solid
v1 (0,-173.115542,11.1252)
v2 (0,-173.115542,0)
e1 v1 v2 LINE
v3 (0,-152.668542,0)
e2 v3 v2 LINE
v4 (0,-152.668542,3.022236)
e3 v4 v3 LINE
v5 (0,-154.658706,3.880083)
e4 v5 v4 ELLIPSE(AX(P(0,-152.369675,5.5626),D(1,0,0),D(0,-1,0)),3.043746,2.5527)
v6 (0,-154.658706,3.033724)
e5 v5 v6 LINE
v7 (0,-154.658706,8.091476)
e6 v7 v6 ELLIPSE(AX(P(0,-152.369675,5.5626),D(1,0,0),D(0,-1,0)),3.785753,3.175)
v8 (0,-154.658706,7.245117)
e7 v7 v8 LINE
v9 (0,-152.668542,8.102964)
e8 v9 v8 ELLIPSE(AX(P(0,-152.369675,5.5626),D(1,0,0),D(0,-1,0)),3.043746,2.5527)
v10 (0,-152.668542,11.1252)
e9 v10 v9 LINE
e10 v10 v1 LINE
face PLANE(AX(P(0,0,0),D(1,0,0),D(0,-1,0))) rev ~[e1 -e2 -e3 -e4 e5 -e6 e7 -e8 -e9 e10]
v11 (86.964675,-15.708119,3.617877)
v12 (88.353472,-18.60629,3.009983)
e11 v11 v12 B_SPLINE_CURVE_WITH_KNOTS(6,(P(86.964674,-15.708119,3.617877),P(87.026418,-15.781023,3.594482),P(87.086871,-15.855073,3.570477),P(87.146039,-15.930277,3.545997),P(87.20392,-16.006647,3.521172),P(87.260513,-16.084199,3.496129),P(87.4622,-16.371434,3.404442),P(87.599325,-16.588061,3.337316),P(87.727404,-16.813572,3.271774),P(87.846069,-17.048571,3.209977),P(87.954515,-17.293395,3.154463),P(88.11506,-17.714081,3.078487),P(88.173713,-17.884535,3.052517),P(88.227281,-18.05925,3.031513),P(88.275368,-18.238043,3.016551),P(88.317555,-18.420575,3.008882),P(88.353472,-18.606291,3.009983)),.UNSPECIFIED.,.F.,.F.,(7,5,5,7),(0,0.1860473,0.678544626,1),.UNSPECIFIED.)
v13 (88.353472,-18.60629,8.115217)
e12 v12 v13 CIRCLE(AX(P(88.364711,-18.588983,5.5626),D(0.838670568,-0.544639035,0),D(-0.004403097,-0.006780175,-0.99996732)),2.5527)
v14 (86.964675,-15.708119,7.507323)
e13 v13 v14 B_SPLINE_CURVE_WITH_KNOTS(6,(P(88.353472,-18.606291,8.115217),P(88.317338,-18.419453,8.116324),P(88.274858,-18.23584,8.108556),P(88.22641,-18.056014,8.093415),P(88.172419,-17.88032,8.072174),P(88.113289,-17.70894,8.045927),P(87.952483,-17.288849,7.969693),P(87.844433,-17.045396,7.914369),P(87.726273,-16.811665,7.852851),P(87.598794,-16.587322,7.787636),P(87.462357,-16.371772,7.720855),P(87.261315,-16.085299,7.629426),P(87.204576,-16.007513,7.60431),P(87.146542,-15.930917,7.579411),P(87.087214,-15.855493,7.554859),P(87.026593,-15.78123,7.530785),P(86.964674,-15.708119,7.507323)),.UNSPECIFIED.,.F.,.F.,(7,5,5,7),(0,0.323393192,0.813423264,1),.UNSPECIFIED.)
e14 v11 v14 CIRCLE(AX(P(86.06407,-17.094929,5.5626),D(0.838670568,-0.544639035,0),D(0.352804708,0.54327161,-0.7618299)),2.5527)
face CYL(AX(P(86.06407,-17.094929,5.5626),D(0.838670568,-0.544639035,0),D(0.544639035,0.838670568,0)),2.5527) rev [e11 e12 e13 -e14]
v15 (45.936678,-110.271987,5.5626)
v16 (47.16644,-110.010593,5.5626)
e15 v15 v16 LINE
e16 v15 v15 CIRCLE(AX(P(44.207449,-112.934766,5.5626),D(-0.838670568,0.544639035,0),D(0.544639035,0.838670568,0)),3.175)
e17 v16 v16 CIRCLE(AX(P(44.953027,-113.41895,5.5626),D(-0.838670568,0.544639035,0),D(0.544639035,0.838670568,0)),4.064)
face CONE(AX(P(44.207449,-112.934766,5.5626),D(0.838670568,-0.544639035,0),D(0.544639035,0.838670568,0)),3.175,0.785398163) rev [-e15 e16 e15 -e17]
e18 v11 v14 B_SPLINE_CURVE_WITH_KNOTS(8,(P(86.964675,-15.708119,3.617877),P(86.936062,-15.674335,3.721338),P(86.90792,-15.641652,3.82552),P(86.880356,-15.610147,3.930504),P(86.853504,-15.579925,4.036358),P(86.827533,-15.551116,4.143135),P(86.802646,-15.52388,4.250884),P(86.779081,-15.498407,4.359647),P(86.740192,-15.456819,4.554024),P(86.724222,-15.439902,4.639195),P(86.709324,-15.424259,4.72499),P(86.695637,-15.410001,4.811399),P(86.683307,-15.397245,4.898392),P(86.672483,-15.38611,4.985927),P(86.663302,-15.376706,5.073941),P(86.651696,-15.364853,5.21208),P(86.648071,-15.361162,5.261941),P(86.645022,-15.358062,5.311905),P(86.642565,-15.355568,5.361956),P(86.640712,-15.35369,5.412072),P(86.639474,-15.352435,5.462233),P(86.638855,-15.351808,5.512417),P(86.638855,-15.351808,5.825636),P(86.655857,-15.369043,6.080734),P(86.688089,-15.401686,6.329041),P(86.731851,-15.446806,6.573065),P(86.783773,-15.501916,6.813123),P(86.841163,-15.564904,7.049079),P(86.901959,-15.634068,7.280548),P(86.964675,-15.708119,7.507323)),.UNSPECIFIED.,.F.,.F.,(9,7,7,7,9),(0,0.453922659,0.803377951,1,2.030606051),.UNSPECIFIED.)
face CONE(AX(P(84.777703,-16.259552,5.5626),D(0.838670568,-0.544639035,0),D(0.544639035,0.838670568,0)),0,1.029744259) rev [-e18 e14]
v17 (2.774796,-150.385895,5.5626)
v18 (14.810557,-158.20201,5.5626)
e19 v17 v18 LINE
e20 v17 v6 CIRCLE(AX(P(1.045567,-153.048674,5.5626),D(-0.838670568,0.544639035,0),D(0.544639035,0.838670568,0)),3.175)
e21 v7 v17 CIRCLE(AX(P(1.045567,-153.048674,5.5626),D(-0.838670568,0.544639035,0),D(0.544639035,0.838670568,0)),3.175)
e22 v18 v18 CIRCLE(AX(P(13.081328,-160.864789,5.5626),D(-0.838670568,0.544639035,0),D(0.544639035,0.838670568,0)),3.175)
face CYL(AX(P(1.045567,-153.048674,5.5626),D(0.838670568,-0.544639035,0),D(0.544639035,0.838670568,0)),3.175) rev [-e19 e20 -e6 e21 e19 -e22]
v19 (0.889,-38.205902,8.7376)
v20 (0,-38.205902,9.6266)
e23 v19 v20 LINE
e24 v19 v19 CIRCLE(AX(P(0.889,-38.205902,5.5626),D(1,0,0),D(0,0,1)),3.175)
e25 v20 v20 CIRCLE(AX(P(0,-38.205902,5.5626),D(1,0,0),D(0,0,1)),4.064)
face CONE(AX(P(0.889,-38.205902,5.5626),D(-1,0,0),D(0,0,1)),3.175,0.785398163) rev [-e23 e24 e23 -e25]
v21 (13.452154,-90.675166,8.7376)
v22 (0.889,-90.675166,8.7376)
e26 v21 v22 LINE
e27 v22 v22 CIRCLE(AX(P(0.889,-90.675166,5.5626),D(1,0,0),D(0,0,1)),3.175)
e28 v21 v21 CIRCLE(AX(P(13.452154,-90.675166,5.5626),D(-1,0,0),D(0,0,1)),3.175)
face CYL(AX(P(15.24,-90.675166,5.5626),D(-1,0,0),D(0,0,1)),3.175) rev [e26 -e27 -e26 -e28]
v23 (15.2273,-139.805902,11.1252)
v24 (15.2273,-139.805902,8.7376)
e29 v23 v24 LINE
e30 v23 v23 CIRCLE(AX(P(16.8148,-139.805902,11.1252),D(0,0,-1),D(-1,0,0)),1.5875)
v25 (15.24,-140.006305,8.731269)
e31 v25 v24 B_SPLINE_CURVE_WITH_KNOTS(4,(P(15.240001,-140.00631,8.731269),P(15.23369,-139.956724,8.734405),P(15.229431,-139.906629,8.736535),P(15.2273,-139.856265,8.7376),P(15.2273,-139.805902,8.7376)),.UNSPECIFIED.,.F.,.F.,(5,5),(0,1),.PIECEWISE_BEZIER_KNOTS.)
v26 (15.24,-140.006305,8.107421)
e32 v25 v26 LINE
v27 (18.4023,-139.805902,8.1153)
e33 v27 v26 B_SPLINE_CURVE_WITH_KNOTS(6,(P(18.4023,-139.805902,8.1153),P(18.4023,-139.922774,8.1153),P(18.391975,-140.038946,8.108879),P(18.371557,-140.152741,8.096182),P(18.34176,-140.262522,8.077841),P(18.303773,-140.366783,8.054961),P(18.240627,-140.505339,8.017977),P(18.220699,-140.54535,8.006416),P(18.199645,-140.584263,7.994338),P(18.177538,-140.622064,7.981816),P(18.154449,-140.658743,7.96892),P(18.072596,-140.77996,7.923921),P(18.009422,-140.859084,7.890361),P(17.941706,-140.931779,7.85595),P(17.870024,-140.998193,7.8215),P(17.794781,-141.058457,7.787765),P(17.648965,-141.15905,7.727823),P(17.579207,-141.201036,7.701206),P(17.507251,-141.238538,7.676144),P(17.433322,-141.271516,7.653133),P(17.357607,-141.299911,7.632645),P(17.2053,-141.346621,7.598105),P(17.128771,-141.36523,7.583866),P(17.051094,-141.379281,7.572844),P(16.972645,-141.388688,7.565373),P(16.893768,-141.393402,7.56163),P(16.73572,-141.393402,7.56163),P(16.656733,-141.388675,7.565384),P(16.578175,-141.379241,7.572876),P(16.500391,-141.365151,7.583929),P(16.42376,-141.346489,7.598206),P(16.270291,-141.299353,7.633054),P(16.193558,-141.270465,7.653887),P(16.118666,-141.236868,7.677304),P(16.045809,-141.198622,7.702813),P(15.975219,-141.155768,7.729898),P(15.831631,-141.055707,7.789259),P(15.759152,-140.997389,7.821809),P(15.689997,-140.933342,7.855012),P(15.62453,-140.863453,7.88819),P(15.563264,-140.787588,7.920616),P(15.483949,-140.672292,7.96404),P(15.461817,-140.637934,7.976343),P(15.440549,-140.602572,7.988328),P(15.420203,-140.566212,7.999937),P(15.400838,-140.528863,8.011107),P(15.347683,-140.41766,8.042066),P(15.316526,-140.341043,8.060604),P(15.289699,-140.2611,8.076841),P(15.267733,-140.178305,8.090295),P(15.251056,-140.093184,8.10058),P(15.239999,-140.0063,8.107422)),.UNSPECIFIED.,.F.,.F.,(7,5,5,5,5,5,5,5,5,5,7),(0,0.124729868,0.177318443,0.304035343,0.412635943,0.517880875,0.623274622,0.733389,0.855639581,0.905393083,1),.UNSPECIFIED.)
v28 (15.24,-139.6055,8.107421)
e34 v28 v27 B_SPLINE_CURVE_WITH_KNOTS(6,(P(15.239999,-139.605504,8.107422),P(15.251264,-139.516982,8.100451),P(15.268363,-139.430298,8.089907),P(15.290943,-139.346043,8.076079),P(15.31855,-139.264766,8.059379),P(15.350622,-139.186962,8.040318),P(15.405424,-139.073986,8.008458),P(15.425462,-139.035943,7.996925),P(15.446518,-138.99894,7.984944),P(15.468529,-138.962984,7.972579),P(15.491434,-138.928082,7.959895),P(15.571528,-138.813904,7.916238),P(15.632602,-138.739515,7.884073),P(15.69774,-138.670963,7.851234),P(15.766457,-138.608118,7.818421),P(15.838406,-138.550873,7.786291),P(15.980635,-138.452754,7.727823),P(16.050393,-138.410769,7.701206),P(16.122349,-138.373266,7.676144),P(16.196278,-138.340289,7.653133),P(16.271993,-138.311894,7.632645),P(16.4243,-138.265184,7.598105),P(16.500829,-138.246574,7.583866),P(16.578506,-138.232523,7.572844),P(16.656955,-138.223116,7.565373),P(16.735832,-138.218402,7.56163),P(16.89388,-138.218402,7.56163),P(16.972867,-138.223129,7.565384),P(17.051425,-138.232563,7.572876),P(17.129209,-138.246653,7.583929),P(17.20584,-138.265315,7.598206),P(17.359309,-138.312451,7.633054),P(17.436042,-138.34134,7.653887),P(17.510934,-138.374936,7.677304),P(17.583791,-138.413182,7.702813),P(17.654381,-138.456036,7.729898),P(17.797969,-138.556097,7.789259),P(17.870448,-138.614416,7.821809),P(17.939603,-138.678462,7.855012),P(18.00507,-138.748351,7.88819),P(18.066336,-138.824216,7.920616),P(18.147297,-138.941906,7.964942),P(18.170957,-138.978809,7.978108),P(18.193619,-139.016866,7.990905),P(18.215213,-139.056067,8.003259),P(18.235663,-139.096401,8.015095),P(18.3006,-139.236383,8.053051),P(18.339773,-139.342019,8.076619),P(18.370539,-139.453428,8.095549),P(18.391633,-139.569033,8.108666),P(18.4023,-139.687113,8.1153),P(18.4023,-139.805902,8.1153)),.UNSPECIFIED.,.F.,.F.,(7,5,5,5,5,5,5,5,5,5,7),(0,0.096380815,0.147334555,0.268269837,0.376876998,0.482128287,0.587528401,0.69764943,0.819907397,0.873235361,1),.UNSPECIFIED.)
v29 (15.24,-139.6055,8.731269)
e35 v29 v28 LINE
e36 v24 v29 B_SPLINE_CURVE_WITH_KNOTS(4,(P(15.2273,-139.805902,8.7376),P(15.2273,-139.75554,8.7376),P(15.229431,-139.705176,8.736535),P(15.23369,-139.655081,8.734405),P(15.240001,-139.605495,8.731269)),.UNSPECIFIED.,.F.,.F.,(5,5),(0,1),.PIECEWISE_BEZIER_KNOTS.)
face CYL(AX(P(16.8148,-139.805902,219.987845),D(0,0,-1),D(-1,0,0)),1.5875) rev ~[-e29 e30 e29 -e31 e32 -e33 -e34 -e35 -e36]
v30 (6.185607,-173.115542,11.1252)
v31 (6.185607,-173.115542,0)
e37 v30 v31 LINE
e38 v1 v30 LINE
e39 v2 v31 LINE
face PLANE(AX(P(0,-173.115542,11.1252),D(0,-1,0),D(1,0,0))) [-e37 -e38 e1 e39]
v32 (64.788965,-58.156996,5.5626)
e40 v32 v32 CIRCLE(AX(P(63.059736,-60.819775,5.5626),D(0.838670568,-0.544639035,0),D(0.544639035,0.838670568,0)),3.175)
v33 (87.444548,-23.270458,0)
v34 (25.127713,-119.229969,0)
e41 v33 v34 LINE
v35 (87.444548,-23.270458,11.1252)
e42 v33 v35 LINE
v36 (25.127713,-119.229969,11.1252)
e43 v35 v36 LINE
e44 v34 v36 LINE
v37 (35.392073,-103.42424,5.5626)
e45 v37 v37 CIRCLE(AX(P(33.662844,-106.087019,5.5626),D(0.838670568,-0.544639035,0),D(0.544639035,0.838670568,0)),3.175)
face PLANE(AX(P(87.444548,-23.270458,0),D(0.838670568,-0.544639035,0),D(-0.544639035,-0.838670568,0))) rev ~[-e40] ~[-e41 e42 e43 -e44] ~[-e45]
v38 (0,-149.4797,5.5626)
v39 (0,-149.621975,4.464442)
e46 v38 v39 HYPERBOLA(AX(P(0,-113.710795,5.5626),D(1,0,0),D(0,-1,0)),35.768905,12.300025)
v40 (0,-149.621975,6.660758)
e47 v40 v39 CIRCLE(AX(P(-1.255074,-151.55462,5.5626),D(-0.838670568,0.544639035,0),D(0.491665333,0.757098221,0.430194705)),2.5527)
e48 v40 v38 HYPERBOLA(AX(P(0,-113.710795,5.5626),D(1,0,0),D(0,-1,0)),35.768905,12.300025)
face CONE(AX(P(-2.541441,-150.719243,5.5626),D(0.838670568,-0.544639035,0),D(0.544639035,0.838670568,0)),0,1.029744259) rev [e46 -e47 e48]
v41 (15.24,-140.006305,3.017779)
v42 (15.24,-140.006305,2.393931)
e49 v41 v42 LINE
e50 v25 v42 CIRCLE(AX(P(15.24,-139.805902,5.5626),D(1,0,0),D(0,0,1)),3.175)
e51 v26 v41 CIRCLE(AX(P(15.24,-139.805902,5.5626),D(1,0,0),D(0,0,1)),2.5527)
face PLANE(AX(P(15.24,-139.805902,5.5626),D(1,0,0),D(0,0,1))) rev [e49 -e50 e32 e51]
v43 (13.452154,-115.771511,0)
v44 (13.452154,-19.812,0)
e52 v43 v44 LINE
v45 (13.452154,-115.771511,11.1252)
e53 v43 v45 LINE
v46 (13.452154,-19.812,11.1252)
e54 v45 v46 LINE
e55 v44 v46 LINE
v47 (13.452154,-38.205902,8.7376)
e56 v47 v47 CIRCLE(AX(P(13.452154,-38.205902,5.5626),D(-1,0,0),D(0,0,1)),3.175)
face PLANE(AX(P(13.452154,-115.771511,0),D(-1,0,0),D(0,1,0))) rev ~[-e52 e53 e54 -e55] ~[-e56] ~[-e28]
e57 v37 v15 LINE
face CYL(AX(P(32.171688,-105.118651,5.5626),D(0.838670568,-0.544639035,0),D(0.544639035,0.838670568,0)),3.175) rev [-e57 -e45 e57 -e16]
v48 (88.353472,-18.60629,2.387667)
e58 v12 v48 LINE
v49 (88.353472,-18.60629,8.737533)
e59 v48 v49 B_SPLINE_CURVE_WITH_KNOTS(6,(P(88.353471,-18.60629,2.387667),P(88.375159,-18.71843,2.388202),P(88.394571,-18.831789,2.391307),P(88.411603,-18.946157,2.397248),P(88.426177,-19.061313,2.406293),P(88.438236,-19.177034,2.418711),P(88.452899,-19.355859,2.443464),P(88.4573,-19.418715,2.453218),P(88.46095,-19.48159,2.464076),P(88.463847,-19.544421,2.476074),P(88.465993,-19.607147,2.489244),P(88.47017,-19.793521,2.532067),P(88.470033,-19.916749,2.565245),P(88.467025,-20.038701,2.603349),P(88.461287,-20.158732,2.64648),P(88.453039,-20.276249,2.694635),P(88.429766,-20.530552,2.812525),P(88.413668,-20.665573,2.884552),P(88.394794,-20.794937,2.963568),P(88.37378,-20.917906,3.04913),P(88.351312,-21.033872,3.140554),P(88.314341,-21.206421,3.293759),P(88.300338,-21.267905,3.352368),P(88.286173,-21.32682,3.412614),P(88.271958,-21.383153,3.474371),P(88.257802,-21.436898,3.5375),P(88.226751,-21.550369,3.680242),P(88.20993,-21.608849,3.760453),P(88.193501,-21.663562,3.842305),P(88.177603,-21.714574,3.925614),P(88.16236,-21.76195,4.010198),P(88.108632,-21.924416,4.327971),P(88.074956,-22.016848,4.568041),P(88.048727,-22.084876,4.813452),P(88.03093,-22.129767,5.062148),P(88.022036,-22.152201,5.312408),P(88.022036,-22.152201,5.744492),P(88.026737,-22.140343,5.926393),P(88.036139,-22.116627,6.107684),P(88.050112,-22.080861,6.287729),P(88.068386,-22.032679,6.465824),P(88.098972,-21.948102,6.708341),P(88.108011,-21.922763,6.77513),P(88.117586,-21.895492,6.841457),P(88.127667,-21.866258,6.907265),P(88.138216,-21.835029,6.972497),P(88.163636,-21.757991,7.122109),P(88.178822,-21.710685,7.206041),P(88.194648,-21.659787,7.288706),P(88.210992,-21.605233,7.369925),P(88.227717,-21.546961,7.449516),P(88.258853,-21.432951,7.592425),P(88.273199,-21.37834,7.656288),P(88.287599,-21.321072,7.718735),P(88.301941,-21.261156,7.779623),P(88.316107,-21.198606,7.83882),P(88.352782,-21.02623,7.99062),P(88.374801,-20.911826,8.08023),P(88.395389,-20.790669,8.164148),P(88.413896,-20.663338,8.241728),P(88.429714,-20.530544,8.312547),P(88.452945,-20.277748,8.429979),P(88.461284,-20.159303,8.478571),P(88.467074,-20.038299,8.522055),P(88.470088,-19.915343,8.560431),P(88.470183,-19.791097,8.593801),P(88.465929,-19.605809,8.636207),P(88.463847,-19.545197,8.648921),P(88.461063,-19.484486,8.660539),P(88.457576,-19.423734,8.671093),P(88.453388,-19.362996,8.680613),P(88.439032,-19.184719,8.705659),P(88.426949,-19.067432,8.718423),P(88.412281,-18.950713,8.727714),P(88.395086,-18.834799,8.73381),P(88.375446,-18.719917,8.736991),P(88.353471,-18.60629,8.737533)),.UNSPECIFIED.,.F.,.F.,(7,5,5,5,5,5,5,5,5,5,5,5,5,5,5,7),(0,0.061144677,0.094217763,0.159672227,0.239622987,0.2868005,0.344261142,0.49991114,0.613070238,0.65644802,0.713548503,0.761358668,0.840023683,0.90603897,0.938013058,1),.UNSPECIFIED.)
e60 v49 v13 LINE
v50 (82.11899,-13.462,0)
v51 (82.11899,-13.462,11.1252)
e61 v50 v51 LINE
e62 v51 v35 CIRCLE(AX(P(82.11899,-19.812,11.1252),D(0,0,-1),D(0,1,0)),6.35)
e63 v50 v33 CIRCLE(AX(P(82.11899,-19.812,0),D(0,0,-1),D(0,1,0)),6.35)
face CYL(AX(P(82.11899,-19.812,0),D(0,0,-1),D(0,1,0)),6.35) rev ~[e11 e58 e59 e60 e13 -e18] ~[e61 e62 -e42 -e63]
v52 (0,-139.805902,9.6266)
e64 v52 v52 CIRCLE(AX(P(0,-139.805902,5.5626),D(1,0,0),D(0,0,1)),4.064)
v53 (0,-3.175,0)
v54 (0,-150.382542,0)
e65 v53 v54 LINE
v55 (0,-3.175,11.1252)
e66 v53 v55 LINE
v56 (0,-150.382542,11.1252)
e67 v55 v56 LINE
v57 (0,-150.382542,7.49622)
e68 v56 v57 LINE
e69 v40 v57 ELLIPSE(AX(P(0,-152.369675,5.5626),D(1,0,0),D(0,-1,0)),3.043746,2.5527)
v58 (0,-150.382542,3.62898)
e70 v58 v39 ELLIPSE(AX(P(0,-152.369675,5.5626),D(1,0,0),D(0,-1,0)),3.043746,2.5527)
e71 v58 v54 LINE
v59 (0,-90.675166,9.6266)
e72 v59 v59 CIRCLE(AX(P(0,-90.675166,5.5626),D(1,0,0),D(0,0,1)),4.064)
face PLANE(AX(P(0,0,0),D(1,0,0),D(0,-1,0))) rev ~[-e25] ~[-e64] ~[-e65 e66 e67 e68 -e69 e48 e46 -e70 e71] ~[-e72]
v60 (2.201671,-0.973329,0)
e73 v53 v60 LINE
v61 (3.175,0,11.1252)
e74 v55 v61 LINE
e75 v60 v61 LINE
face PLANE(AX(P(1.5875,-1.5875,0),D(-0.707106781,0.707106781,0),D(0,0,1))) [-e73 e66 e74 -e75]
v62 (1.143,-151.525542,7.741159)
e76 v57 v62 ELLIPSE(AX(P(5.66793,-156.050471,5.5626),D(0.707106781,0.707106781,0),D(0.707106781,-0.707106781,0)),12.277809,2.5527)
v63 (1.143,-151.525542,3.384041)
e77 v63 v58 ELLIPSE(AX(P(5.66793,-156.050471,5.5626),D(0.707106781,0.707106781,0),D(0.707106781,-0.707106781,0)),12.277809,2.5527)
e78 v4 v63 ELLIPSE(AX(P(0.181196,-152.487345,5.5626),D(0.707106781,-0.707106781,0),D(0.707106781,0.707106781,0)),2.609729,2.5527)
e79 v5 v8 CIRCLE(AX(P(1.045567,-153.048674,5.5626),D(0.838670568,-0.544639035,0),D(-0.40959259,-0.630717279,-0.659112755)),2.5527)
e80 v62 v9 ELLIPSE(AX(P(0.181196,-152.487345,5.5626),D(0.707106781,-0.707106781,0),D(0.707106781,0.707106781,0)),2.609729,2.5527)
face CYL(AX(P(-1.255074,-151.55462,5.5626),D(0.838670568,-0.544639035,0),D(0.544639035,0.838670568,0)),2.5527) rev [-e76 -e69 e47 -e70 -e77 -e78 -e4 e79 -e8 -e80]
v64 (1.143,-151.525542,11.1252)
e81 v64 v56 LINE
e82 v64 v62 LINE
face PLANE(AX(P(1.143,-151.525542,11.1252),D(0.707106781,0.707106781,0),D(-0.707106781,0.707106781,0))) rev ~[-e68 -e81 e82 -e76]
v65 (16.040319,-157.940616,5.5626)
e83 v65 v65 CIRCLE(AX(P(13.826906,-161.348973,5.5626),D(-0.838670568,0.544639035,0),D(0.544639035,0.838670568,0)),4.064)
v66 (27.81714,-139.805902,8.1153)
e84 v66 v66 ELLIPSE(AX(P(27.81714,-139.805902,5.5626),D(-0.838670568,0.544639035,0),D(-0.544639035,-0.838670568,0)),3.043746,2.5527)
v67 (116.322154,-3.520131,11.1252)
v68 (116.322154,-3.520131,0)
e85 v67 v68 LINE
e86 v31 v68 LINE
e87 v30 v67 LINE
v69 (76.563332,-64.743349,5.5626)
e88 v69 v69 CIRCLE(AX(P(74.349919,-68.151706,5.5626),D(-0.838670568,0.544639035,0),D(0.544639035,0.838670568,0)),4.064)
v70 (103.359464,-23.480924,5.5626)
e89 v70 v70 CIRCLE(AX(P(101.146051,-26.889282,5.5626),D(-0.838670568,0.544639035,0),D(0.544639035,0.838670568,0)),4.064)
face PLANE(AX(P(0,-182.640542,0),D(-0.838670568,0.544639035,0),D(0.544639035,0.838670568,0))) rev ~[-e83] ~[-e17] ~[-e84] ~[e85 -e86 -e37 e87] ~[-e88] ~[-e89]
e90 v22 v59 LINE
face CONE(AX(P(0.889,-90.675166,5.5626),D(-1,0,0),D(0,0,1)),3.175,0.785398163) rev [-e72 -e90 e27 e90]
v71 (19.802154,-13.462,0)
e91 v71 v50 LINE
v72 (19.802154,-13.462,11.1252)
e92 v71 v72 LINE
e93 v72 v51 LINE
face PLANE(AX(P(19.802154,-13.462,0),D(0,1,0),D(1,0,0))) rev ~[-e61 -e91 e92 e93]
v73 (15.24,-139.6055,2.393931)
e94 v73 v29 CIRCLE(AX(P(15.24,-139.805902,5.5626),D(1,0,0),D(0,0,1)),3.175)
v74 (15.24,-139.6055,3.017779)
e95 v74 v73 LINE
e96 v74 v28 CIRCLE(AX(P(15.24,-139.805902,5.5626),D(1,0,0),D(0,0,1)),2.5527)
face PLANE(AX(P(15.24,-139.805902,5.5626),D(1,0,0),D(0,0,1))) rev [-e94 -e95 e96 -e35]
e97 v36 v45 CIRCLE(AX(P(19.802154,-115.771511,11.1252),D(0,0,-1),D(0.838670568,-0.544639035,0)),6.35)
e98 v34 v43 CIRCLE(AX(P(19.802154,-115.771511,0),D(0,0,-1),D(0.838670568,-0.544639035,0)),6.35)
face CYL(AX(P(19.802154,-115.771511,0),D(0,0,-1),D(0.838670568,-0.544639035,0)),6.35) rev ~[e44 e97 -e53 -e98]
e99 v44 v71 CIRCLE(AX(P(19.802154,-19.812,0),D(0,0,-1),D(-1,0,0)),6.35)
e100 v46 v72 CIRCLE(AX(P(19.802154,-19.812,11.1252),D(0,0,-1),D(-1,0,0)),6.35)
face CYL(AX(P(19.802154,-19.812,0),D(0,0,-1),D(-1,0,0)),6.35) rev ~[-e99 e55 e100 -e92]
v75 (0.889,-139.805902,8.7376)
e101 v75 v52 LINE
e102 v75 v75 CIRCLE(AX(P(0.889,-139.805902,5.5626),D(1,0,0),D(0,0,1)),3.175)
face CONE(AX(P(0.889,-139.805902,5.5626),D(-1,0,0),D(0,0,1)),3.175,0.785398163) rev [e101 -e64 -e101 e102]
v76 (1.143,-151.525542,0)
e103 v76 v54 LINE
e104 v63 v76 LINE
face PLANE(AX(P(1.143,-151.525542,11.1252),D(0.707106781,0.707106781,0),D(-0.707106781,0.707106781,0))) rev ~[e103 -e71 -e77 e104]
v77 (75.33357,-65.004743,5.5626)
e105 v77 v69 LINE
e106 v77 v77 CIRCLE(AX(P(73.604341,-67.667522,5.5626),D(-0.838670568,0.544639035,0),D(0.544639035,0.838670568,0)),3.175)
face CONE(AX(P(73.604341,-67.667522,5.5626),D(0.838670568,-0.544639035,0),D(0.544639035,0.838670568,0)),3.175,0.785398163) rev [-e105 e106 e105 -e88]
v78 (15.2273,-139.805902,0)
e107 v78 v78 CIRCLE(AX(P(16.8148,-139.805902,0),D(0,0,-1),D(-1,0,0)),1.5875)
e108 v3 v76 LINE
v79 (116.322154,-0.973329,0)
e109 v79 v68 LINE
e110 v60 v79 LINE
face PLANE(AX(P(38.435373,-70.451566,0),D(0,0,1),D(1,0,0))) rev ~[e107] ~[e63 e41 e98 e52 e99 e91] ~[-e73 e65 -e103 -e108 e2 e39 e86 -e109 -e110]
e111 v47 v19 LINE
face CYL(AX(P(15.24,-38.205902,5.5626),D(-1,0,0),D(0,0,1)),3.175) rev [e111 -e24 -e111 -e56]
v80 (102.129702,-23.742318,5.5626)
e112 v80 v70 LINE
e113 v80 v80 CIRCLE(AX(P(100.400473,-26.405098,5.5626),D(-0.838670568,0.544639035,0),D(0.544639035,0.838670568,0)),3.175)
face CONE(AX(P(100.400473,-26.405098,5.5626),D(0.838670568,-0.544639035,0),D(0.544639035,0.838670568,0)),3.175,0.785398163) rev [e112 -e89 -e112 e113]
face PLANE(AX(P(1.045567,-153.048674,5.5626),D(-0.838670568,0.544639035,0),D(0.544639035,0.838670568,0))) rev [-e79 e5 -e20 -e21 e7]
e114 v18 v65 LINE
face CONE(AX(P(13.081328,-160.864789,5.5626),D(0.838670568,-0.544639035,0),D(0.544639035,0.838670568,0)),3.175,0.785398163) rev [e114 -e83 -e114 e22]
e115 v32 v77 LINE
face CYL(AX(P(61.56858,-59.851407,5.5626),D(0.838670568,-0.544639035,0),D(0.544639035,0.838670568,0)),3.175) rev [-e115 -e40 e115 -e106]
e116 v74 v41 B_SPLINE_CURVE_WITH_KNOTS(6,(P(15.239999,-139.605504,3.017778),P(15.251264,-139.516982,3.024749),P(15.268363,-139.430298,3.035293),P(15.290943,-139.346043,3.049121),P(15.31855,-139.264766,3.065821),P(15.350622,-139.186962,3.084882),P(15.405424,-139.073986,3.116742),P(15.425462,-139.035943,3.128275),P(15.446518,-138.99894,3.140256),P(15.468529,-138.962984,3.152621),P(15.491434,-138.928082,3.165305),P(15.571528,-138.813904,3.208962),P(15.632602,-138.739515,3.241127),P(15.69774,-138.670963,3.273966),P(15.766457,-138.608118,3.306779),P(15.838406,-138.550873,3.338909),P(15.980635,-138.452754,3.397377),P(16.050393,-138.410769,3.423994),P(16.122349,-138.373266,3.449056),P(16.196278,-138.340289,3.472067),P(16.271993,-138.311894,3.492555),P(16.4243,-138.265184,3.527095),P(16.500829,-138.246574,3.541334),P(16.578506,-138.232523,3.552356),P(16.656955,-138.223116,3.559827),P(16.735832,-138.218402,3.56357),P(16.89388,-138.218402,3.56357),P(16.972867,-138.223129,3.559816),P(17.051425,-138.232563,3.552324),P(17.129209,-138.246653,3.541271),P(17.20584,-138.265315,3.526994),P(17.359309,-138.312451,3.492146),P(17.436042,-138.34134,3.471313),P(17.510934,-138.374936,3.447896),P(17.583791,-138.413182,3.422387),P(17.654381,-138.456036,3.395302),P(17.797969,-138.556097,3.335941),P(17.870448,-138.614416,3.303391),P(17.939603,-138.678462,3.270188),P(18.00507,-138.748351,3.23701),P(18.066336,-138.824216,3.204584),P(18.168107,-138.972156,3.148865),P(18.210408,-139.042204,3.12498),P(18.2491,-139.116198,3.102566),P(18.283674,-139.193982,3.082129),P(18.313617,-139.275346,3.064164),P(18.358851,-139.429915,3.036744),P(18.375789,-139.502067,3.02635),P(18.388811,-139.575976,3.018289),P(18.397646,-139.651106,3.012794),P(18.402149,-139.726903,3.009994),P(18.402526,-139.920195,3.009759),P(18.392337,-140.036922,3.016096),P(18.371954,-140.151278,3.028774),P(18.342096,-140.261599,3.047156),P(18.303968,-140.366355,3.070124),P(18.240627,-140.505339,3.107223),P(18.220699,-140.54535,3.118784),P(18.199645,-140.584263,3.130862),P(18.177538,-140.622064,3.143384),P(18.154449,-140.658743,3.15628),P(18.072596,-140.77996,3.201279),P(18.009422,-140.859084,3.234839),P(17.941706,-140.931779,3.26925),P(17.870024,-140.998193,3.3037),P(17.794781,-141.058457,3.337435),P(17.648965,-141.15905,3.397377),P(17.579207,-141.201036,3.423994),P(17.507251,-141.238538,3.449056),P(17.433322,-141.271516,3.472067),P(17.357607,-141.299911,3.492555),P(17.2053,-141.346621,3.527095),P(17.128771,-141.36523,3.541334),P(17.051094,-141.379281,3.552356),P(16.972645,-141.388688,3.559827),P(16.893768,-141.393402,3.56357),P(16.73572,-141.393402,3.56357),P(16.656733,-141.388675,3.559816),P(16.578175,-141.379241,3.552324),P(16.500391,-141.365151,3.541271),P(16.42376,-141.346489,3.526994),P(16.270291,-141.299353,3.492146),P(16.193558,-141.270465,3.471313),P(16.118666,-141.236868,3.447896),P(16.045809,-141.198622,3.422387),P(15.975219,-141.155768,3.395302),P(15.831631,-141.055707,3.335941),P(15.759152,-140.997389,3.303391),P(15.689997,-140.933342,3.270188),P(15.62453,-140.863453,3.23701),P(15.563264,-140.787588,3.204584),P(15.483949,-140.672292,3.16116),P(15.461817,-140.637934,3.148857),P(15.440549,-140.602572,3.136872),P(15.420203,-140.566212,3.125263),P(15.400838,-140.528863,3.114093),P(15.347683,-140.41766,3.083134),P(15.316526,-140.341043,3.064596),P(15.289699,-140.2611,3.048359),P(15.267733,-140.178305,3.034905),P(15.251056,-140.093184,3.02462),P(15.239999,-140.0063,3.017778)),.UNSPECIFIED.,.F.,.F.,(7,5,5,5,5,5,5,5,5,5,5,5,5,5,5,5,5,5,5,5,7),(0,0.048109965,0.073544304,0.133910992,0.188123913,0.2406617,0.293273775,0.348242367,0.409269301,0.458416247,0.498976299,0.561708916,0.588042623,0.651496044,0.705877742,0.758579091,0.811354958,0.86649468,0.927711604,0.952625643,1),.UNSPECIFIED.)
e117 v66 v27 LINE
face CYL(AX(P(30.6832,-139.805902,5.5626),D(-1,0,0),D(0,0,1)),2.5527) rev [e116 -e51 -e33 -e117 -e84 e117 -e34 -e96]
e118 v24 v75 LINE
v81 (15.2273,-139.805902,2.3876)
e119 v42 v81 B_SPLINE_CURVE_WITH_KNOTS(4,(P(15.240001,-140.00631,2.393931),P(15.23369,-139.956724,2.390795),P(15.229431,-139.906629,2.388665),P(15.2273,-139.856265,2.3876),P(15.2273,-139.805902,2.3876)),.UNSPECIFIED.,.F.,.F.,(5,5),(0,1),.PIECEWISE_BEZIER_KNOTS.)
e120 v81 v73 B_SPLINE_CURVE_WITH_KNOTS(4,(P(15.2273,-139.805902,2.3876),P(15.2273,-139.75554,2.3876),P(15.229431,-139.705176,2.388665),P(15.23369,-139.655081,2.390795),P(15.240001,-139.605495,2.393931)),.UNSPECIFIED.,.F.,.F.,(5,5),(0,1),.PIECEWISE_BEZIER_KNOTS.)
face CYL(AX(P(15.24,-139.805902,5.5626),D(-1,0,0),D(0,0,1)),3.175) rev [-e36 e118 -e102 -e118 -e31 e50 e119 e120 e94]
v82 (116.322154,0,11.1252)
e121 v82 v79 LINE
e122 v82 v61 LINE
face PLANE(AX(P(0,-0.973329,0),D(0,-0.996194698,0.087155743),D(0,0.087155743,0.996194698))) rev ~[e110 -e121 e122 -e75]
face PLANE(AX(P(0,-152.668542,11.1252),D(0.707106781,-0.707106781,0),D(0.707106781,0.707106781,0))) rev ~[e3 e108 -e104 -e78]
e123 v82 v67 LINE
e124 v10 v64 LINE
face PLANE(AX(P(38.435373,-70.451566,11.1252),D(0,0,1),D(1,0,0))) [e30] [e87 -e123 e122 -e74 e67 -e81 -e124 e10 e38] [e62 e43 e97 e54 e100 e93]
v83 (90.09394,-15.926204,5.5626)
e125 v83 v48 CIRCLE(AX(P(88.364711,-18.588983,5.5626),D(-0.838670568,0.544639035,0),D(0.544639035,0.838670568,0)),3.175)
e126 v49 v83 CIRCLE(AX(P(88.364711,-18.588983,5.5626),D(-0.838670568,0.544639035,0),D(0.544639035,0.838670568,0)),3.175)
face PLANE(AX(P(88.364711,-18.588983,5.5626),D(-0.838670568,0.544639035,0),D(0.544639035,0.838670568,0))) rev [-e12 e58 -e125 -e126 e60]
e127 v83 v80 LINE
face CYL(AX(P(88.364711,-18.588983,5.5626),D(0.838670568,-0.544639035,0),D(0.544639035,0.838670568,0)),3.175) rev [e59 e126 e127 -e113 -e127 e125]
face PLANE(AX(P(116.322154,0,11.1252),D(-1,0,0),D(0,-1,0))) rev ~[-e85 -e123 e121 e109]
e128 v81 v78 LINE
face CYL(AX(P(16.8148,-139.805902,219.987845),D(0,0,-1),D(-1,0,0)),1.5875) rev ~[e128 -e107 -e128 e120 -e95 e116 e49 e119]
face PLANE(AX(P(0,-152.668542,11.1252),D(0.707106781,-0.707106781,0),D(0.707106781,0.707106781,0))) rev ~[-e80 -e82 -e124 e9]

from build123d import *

# Parameters (mm, degrees)
BOSS_EXTRUDE1_DEPTH              = 11.1252
F_1_4_20_TAPPED_HOLE1_AT_2_COUNT = 2
F_1_4_20_TAPPED_HOLE1_AT_2_PITCH = 101.6
F_1_4_20_TAPPED_HOLE1_AT_3_COUNT = 2
F_1_4_20_TAPPED_HOLE1_AT_3_PITCH = 49.130736385
F_1_4_20_TAPPED_HOLE2_AT_2_COUNT = 2
F_1_4_20_TAPPED_HOLE2_AT_2_PITCH = 53.975
F_1_4_20_TAPPED_HOLE2_AT_3_COUNT = 2
F_1_4_20_TAPPED_HOLE2_AT_3_PITCH = 111.125
F_1_4_20_TAPPED_HOLE2_AT_4_COUNT = 2
F_1_4_20_TAPPED_HOLE2_AT_4_PITCH = 49.1998
CUT_EXTRUDE1_DEPTH               = 12.1252001
CHAMFER3_SIZE                    = 3.175
CUT_EXTRUDE2_DEPTH               = 119.608154476
CUT_EXTRUDE3_DEPTH               = 12.1252001
F_1_8_0_125_DIAMETER_HOLE1_D     = 3.175
CUT_EXTRUDE4_DEPTH               = 12.1252001


with BuildPart() as part:
    # Sketch1 → Boss-Extrude1 (new body)
    with BuildSketch(Plane.XY):
        Polygon((0, 0), (0, -182.6405415), (118.608154476, 0), align=None)
        with BuildLine():
            Line((19.802154476, -13.462), (82.118989682, -13.462))
            ThreePointArc((82.118989682, -13.462), (87.699478347, -16.782041872), (87.444547788, -23.270457872))
            Line((87.444547788, -23.270457872), (25.127712583, -119.229969062))
            ThreePointArc((25.127712583, -119.229969062), (17.998657037, -121.860016506), (13.452154476, -115.771511189))
            Line((13.452154476, -115.771511189), (13.452154476, -19.812))
            ThreePointArc((13.452154476, -19.812), (15.312026416, -15.321871939), (19.802154476, -13.462))
        make_face(mode=Mode.SUBTRACT)
    extrude(amount=BOSS_EXTRUDE1_DEPTH)

    # Sketch3 → 1/4-20 Tapped Hole1 (revolve, cut)
    with BuildSketch(Plane(origin=(0, -139.805902277, 5.5626), x_dir=(0, 0, 1), z_dir=(0, 1, 0))):
        Polygon((0, 0), (0, 32.217016902), (2.5527, 30.6832), (2.5527, 15.24), (3.175, 15.24), (3.175, 0.889), (4.064, 0), align=None)
    f_1_4_20_tapped_hole1 = revolve(axis=Axis((-6.35, -139.805902277, 5.5626), (1, 0, 0)), mode=Mode.SUBTRACT)

    # 1/4-20 Tapped Hole1 at 2: 1/4-20 Tapped Hole1 ×2
    with Locations(*[(0, i * F_1_4_20_TAPPED_HOLE1_AT_2_PITCH, 0) for i in range(1, F_1_4_20_TAPPED_HOLE1_AT_2_COUNT)]):
        add(f_1_4_20_tapped_hole1, mode=Mode.SUBTRACT)

    # 1/4-20 Tapped Hole1 at 3: 1/4-20 Tapped Hole1 ×2
    with Locations(*[(0, i * F_1_4_20_TAPPED_HOLE1_AT_3_PITCH, 0) for i in range(1, F_1_4_20_TAPPED_HOLE1_AT_3_COUNT)]):
        add(f_1_4_20_tapped_hole1, mode=Mode.SUBTRACT)

    # Sketch6 → 1/4-20 Tapped Hole2 (revolve, cut)
    with BuildSketch(Plane(origin=(74.349919226, -68.151705822, 5.5626), x_dir=(0.544639035, 0.838670568, 0), z_dir=(0, 0, 1))):
        Polygon((0, 0), (0, 19.517016902), (2.5527, 17.9832), (2.5527, 15.24), (3.175, 15.24), (3.175, 0.889), (4.064, 0), align=None)
    f_1_4_20_tapped_hole2 = revolve(axis=Axis((79.675477332, -71.610163694, 5.5626), (-0.838670568, 0.544639035, 0)), mode=Mode.SUBTRACT)

    # 1/4-20 Tapped Hole2 at 2: 1/4-20 Tapped Hole2 ×2
    with Locations(*[Vector(-0.544639035, -0.838670568, 0) * (i * F_1_4_20_TAPPED_HOLE2_AT_2_PITCH) for i in range(1, F_1_4_20_TAPPED_HOLE2_AT_2_COUNT)]):
        add(f_1_4_20_tapped_hole2, mode=Mode.SUBTRACT)

    # 1/4-20 Tapped Hole2 at 3: 1/4-20 Tapped Hole2 ×2
    with Locations(*[Vector(-0.544639035, -0.838670568, 0) * (i * F_1_4_20_TAPPED_HOLE2_AT_3_PITCH) for i in range(1, F_1_4_20_TAPPED_HOLE2_AT_3_COUNT)]):
        add(f_1_4_20_tapped_hole2, mode=Mode.SUBTRACT)

    # 1/4-20 Tapped Hole2 at 4: 1/4-20 Tapped Hole2 ×2
    with Locations(*[Vector(0.544639035, 0.838670568, 0) * (i * F_1_4_20_TAPPED_HOLE2_AT_4_PITCH) for i in range(1, F_1_4_20_TAPPED_HOLE2_AT_4_COUNT)]):
        add(f_1_4_20_tapped_hole2, mode=Mode.SUBTRACT)

    # Sketch8 → Cut-Extrude1 (cut, through all)
    with BuildSketch(Plane.XY.offset(11.1252)):
        Polygon((0, -182.6405415), (0, -173.1155415), (6.185607325, -173.1155415), align=None)
    extrude(amount=-CUT_EXTRUDE1_DEPTH, mode=Mode.SUBTRACT)

    # Chamfer3
    chamfer3_edges = [part.edges().sort_by_distance(p)[0] for p in [
        (0, 0, 5.5626),
    ]]
    chamfer(chamfer3_edges, length=CHAMFER3_SIZE)

    # Sketch9 → Cut-Extrude2 (cut, through all)
    with BuildSketch(Plane.ZY):
        Polygon((11.1252, 0), (0, 0), (0, -0.973328879), align=None)
    extrude(amount=-CUT_EXTRUDE2_DEPTH, mode=Mode.SUBTRACT)

    # Sketch10 → Cut-Extrude3 (cut, through all)
    with BuildSketch(Plane.XY.offset(11.1252)):
        Polygon((118.608154476, 0), (116.322154476, 0), (116.322154476, -3.520131307), align=None)
    extrude(amount=-CUT_EXTRUDE3_DEPTH, mode=Mode.SUBTRACT)

    # 1/8 (0.125) Diameter Hole1 (through all)
    with Locations(Plane.XY.offset(11.1252)):
        with Locations((16.8148, -139.805902277)):
            Hole(F_1_8_0_125_DIAMETER_HOLE1_D / 2)

    # Sketch14 → Cut-Extrude4 (cut, through all)
    with BuildSketch(Plane.XY.offset(11.1252)):
        Polygon((0, -150.3825415), (0, -152.6685415), (1.143, -151.5255415), align=None)
    extrude(amount=-CUT_EXTRUDE4_DEPTH, mode=Mode.SUBTRACT)


solid = part.part
